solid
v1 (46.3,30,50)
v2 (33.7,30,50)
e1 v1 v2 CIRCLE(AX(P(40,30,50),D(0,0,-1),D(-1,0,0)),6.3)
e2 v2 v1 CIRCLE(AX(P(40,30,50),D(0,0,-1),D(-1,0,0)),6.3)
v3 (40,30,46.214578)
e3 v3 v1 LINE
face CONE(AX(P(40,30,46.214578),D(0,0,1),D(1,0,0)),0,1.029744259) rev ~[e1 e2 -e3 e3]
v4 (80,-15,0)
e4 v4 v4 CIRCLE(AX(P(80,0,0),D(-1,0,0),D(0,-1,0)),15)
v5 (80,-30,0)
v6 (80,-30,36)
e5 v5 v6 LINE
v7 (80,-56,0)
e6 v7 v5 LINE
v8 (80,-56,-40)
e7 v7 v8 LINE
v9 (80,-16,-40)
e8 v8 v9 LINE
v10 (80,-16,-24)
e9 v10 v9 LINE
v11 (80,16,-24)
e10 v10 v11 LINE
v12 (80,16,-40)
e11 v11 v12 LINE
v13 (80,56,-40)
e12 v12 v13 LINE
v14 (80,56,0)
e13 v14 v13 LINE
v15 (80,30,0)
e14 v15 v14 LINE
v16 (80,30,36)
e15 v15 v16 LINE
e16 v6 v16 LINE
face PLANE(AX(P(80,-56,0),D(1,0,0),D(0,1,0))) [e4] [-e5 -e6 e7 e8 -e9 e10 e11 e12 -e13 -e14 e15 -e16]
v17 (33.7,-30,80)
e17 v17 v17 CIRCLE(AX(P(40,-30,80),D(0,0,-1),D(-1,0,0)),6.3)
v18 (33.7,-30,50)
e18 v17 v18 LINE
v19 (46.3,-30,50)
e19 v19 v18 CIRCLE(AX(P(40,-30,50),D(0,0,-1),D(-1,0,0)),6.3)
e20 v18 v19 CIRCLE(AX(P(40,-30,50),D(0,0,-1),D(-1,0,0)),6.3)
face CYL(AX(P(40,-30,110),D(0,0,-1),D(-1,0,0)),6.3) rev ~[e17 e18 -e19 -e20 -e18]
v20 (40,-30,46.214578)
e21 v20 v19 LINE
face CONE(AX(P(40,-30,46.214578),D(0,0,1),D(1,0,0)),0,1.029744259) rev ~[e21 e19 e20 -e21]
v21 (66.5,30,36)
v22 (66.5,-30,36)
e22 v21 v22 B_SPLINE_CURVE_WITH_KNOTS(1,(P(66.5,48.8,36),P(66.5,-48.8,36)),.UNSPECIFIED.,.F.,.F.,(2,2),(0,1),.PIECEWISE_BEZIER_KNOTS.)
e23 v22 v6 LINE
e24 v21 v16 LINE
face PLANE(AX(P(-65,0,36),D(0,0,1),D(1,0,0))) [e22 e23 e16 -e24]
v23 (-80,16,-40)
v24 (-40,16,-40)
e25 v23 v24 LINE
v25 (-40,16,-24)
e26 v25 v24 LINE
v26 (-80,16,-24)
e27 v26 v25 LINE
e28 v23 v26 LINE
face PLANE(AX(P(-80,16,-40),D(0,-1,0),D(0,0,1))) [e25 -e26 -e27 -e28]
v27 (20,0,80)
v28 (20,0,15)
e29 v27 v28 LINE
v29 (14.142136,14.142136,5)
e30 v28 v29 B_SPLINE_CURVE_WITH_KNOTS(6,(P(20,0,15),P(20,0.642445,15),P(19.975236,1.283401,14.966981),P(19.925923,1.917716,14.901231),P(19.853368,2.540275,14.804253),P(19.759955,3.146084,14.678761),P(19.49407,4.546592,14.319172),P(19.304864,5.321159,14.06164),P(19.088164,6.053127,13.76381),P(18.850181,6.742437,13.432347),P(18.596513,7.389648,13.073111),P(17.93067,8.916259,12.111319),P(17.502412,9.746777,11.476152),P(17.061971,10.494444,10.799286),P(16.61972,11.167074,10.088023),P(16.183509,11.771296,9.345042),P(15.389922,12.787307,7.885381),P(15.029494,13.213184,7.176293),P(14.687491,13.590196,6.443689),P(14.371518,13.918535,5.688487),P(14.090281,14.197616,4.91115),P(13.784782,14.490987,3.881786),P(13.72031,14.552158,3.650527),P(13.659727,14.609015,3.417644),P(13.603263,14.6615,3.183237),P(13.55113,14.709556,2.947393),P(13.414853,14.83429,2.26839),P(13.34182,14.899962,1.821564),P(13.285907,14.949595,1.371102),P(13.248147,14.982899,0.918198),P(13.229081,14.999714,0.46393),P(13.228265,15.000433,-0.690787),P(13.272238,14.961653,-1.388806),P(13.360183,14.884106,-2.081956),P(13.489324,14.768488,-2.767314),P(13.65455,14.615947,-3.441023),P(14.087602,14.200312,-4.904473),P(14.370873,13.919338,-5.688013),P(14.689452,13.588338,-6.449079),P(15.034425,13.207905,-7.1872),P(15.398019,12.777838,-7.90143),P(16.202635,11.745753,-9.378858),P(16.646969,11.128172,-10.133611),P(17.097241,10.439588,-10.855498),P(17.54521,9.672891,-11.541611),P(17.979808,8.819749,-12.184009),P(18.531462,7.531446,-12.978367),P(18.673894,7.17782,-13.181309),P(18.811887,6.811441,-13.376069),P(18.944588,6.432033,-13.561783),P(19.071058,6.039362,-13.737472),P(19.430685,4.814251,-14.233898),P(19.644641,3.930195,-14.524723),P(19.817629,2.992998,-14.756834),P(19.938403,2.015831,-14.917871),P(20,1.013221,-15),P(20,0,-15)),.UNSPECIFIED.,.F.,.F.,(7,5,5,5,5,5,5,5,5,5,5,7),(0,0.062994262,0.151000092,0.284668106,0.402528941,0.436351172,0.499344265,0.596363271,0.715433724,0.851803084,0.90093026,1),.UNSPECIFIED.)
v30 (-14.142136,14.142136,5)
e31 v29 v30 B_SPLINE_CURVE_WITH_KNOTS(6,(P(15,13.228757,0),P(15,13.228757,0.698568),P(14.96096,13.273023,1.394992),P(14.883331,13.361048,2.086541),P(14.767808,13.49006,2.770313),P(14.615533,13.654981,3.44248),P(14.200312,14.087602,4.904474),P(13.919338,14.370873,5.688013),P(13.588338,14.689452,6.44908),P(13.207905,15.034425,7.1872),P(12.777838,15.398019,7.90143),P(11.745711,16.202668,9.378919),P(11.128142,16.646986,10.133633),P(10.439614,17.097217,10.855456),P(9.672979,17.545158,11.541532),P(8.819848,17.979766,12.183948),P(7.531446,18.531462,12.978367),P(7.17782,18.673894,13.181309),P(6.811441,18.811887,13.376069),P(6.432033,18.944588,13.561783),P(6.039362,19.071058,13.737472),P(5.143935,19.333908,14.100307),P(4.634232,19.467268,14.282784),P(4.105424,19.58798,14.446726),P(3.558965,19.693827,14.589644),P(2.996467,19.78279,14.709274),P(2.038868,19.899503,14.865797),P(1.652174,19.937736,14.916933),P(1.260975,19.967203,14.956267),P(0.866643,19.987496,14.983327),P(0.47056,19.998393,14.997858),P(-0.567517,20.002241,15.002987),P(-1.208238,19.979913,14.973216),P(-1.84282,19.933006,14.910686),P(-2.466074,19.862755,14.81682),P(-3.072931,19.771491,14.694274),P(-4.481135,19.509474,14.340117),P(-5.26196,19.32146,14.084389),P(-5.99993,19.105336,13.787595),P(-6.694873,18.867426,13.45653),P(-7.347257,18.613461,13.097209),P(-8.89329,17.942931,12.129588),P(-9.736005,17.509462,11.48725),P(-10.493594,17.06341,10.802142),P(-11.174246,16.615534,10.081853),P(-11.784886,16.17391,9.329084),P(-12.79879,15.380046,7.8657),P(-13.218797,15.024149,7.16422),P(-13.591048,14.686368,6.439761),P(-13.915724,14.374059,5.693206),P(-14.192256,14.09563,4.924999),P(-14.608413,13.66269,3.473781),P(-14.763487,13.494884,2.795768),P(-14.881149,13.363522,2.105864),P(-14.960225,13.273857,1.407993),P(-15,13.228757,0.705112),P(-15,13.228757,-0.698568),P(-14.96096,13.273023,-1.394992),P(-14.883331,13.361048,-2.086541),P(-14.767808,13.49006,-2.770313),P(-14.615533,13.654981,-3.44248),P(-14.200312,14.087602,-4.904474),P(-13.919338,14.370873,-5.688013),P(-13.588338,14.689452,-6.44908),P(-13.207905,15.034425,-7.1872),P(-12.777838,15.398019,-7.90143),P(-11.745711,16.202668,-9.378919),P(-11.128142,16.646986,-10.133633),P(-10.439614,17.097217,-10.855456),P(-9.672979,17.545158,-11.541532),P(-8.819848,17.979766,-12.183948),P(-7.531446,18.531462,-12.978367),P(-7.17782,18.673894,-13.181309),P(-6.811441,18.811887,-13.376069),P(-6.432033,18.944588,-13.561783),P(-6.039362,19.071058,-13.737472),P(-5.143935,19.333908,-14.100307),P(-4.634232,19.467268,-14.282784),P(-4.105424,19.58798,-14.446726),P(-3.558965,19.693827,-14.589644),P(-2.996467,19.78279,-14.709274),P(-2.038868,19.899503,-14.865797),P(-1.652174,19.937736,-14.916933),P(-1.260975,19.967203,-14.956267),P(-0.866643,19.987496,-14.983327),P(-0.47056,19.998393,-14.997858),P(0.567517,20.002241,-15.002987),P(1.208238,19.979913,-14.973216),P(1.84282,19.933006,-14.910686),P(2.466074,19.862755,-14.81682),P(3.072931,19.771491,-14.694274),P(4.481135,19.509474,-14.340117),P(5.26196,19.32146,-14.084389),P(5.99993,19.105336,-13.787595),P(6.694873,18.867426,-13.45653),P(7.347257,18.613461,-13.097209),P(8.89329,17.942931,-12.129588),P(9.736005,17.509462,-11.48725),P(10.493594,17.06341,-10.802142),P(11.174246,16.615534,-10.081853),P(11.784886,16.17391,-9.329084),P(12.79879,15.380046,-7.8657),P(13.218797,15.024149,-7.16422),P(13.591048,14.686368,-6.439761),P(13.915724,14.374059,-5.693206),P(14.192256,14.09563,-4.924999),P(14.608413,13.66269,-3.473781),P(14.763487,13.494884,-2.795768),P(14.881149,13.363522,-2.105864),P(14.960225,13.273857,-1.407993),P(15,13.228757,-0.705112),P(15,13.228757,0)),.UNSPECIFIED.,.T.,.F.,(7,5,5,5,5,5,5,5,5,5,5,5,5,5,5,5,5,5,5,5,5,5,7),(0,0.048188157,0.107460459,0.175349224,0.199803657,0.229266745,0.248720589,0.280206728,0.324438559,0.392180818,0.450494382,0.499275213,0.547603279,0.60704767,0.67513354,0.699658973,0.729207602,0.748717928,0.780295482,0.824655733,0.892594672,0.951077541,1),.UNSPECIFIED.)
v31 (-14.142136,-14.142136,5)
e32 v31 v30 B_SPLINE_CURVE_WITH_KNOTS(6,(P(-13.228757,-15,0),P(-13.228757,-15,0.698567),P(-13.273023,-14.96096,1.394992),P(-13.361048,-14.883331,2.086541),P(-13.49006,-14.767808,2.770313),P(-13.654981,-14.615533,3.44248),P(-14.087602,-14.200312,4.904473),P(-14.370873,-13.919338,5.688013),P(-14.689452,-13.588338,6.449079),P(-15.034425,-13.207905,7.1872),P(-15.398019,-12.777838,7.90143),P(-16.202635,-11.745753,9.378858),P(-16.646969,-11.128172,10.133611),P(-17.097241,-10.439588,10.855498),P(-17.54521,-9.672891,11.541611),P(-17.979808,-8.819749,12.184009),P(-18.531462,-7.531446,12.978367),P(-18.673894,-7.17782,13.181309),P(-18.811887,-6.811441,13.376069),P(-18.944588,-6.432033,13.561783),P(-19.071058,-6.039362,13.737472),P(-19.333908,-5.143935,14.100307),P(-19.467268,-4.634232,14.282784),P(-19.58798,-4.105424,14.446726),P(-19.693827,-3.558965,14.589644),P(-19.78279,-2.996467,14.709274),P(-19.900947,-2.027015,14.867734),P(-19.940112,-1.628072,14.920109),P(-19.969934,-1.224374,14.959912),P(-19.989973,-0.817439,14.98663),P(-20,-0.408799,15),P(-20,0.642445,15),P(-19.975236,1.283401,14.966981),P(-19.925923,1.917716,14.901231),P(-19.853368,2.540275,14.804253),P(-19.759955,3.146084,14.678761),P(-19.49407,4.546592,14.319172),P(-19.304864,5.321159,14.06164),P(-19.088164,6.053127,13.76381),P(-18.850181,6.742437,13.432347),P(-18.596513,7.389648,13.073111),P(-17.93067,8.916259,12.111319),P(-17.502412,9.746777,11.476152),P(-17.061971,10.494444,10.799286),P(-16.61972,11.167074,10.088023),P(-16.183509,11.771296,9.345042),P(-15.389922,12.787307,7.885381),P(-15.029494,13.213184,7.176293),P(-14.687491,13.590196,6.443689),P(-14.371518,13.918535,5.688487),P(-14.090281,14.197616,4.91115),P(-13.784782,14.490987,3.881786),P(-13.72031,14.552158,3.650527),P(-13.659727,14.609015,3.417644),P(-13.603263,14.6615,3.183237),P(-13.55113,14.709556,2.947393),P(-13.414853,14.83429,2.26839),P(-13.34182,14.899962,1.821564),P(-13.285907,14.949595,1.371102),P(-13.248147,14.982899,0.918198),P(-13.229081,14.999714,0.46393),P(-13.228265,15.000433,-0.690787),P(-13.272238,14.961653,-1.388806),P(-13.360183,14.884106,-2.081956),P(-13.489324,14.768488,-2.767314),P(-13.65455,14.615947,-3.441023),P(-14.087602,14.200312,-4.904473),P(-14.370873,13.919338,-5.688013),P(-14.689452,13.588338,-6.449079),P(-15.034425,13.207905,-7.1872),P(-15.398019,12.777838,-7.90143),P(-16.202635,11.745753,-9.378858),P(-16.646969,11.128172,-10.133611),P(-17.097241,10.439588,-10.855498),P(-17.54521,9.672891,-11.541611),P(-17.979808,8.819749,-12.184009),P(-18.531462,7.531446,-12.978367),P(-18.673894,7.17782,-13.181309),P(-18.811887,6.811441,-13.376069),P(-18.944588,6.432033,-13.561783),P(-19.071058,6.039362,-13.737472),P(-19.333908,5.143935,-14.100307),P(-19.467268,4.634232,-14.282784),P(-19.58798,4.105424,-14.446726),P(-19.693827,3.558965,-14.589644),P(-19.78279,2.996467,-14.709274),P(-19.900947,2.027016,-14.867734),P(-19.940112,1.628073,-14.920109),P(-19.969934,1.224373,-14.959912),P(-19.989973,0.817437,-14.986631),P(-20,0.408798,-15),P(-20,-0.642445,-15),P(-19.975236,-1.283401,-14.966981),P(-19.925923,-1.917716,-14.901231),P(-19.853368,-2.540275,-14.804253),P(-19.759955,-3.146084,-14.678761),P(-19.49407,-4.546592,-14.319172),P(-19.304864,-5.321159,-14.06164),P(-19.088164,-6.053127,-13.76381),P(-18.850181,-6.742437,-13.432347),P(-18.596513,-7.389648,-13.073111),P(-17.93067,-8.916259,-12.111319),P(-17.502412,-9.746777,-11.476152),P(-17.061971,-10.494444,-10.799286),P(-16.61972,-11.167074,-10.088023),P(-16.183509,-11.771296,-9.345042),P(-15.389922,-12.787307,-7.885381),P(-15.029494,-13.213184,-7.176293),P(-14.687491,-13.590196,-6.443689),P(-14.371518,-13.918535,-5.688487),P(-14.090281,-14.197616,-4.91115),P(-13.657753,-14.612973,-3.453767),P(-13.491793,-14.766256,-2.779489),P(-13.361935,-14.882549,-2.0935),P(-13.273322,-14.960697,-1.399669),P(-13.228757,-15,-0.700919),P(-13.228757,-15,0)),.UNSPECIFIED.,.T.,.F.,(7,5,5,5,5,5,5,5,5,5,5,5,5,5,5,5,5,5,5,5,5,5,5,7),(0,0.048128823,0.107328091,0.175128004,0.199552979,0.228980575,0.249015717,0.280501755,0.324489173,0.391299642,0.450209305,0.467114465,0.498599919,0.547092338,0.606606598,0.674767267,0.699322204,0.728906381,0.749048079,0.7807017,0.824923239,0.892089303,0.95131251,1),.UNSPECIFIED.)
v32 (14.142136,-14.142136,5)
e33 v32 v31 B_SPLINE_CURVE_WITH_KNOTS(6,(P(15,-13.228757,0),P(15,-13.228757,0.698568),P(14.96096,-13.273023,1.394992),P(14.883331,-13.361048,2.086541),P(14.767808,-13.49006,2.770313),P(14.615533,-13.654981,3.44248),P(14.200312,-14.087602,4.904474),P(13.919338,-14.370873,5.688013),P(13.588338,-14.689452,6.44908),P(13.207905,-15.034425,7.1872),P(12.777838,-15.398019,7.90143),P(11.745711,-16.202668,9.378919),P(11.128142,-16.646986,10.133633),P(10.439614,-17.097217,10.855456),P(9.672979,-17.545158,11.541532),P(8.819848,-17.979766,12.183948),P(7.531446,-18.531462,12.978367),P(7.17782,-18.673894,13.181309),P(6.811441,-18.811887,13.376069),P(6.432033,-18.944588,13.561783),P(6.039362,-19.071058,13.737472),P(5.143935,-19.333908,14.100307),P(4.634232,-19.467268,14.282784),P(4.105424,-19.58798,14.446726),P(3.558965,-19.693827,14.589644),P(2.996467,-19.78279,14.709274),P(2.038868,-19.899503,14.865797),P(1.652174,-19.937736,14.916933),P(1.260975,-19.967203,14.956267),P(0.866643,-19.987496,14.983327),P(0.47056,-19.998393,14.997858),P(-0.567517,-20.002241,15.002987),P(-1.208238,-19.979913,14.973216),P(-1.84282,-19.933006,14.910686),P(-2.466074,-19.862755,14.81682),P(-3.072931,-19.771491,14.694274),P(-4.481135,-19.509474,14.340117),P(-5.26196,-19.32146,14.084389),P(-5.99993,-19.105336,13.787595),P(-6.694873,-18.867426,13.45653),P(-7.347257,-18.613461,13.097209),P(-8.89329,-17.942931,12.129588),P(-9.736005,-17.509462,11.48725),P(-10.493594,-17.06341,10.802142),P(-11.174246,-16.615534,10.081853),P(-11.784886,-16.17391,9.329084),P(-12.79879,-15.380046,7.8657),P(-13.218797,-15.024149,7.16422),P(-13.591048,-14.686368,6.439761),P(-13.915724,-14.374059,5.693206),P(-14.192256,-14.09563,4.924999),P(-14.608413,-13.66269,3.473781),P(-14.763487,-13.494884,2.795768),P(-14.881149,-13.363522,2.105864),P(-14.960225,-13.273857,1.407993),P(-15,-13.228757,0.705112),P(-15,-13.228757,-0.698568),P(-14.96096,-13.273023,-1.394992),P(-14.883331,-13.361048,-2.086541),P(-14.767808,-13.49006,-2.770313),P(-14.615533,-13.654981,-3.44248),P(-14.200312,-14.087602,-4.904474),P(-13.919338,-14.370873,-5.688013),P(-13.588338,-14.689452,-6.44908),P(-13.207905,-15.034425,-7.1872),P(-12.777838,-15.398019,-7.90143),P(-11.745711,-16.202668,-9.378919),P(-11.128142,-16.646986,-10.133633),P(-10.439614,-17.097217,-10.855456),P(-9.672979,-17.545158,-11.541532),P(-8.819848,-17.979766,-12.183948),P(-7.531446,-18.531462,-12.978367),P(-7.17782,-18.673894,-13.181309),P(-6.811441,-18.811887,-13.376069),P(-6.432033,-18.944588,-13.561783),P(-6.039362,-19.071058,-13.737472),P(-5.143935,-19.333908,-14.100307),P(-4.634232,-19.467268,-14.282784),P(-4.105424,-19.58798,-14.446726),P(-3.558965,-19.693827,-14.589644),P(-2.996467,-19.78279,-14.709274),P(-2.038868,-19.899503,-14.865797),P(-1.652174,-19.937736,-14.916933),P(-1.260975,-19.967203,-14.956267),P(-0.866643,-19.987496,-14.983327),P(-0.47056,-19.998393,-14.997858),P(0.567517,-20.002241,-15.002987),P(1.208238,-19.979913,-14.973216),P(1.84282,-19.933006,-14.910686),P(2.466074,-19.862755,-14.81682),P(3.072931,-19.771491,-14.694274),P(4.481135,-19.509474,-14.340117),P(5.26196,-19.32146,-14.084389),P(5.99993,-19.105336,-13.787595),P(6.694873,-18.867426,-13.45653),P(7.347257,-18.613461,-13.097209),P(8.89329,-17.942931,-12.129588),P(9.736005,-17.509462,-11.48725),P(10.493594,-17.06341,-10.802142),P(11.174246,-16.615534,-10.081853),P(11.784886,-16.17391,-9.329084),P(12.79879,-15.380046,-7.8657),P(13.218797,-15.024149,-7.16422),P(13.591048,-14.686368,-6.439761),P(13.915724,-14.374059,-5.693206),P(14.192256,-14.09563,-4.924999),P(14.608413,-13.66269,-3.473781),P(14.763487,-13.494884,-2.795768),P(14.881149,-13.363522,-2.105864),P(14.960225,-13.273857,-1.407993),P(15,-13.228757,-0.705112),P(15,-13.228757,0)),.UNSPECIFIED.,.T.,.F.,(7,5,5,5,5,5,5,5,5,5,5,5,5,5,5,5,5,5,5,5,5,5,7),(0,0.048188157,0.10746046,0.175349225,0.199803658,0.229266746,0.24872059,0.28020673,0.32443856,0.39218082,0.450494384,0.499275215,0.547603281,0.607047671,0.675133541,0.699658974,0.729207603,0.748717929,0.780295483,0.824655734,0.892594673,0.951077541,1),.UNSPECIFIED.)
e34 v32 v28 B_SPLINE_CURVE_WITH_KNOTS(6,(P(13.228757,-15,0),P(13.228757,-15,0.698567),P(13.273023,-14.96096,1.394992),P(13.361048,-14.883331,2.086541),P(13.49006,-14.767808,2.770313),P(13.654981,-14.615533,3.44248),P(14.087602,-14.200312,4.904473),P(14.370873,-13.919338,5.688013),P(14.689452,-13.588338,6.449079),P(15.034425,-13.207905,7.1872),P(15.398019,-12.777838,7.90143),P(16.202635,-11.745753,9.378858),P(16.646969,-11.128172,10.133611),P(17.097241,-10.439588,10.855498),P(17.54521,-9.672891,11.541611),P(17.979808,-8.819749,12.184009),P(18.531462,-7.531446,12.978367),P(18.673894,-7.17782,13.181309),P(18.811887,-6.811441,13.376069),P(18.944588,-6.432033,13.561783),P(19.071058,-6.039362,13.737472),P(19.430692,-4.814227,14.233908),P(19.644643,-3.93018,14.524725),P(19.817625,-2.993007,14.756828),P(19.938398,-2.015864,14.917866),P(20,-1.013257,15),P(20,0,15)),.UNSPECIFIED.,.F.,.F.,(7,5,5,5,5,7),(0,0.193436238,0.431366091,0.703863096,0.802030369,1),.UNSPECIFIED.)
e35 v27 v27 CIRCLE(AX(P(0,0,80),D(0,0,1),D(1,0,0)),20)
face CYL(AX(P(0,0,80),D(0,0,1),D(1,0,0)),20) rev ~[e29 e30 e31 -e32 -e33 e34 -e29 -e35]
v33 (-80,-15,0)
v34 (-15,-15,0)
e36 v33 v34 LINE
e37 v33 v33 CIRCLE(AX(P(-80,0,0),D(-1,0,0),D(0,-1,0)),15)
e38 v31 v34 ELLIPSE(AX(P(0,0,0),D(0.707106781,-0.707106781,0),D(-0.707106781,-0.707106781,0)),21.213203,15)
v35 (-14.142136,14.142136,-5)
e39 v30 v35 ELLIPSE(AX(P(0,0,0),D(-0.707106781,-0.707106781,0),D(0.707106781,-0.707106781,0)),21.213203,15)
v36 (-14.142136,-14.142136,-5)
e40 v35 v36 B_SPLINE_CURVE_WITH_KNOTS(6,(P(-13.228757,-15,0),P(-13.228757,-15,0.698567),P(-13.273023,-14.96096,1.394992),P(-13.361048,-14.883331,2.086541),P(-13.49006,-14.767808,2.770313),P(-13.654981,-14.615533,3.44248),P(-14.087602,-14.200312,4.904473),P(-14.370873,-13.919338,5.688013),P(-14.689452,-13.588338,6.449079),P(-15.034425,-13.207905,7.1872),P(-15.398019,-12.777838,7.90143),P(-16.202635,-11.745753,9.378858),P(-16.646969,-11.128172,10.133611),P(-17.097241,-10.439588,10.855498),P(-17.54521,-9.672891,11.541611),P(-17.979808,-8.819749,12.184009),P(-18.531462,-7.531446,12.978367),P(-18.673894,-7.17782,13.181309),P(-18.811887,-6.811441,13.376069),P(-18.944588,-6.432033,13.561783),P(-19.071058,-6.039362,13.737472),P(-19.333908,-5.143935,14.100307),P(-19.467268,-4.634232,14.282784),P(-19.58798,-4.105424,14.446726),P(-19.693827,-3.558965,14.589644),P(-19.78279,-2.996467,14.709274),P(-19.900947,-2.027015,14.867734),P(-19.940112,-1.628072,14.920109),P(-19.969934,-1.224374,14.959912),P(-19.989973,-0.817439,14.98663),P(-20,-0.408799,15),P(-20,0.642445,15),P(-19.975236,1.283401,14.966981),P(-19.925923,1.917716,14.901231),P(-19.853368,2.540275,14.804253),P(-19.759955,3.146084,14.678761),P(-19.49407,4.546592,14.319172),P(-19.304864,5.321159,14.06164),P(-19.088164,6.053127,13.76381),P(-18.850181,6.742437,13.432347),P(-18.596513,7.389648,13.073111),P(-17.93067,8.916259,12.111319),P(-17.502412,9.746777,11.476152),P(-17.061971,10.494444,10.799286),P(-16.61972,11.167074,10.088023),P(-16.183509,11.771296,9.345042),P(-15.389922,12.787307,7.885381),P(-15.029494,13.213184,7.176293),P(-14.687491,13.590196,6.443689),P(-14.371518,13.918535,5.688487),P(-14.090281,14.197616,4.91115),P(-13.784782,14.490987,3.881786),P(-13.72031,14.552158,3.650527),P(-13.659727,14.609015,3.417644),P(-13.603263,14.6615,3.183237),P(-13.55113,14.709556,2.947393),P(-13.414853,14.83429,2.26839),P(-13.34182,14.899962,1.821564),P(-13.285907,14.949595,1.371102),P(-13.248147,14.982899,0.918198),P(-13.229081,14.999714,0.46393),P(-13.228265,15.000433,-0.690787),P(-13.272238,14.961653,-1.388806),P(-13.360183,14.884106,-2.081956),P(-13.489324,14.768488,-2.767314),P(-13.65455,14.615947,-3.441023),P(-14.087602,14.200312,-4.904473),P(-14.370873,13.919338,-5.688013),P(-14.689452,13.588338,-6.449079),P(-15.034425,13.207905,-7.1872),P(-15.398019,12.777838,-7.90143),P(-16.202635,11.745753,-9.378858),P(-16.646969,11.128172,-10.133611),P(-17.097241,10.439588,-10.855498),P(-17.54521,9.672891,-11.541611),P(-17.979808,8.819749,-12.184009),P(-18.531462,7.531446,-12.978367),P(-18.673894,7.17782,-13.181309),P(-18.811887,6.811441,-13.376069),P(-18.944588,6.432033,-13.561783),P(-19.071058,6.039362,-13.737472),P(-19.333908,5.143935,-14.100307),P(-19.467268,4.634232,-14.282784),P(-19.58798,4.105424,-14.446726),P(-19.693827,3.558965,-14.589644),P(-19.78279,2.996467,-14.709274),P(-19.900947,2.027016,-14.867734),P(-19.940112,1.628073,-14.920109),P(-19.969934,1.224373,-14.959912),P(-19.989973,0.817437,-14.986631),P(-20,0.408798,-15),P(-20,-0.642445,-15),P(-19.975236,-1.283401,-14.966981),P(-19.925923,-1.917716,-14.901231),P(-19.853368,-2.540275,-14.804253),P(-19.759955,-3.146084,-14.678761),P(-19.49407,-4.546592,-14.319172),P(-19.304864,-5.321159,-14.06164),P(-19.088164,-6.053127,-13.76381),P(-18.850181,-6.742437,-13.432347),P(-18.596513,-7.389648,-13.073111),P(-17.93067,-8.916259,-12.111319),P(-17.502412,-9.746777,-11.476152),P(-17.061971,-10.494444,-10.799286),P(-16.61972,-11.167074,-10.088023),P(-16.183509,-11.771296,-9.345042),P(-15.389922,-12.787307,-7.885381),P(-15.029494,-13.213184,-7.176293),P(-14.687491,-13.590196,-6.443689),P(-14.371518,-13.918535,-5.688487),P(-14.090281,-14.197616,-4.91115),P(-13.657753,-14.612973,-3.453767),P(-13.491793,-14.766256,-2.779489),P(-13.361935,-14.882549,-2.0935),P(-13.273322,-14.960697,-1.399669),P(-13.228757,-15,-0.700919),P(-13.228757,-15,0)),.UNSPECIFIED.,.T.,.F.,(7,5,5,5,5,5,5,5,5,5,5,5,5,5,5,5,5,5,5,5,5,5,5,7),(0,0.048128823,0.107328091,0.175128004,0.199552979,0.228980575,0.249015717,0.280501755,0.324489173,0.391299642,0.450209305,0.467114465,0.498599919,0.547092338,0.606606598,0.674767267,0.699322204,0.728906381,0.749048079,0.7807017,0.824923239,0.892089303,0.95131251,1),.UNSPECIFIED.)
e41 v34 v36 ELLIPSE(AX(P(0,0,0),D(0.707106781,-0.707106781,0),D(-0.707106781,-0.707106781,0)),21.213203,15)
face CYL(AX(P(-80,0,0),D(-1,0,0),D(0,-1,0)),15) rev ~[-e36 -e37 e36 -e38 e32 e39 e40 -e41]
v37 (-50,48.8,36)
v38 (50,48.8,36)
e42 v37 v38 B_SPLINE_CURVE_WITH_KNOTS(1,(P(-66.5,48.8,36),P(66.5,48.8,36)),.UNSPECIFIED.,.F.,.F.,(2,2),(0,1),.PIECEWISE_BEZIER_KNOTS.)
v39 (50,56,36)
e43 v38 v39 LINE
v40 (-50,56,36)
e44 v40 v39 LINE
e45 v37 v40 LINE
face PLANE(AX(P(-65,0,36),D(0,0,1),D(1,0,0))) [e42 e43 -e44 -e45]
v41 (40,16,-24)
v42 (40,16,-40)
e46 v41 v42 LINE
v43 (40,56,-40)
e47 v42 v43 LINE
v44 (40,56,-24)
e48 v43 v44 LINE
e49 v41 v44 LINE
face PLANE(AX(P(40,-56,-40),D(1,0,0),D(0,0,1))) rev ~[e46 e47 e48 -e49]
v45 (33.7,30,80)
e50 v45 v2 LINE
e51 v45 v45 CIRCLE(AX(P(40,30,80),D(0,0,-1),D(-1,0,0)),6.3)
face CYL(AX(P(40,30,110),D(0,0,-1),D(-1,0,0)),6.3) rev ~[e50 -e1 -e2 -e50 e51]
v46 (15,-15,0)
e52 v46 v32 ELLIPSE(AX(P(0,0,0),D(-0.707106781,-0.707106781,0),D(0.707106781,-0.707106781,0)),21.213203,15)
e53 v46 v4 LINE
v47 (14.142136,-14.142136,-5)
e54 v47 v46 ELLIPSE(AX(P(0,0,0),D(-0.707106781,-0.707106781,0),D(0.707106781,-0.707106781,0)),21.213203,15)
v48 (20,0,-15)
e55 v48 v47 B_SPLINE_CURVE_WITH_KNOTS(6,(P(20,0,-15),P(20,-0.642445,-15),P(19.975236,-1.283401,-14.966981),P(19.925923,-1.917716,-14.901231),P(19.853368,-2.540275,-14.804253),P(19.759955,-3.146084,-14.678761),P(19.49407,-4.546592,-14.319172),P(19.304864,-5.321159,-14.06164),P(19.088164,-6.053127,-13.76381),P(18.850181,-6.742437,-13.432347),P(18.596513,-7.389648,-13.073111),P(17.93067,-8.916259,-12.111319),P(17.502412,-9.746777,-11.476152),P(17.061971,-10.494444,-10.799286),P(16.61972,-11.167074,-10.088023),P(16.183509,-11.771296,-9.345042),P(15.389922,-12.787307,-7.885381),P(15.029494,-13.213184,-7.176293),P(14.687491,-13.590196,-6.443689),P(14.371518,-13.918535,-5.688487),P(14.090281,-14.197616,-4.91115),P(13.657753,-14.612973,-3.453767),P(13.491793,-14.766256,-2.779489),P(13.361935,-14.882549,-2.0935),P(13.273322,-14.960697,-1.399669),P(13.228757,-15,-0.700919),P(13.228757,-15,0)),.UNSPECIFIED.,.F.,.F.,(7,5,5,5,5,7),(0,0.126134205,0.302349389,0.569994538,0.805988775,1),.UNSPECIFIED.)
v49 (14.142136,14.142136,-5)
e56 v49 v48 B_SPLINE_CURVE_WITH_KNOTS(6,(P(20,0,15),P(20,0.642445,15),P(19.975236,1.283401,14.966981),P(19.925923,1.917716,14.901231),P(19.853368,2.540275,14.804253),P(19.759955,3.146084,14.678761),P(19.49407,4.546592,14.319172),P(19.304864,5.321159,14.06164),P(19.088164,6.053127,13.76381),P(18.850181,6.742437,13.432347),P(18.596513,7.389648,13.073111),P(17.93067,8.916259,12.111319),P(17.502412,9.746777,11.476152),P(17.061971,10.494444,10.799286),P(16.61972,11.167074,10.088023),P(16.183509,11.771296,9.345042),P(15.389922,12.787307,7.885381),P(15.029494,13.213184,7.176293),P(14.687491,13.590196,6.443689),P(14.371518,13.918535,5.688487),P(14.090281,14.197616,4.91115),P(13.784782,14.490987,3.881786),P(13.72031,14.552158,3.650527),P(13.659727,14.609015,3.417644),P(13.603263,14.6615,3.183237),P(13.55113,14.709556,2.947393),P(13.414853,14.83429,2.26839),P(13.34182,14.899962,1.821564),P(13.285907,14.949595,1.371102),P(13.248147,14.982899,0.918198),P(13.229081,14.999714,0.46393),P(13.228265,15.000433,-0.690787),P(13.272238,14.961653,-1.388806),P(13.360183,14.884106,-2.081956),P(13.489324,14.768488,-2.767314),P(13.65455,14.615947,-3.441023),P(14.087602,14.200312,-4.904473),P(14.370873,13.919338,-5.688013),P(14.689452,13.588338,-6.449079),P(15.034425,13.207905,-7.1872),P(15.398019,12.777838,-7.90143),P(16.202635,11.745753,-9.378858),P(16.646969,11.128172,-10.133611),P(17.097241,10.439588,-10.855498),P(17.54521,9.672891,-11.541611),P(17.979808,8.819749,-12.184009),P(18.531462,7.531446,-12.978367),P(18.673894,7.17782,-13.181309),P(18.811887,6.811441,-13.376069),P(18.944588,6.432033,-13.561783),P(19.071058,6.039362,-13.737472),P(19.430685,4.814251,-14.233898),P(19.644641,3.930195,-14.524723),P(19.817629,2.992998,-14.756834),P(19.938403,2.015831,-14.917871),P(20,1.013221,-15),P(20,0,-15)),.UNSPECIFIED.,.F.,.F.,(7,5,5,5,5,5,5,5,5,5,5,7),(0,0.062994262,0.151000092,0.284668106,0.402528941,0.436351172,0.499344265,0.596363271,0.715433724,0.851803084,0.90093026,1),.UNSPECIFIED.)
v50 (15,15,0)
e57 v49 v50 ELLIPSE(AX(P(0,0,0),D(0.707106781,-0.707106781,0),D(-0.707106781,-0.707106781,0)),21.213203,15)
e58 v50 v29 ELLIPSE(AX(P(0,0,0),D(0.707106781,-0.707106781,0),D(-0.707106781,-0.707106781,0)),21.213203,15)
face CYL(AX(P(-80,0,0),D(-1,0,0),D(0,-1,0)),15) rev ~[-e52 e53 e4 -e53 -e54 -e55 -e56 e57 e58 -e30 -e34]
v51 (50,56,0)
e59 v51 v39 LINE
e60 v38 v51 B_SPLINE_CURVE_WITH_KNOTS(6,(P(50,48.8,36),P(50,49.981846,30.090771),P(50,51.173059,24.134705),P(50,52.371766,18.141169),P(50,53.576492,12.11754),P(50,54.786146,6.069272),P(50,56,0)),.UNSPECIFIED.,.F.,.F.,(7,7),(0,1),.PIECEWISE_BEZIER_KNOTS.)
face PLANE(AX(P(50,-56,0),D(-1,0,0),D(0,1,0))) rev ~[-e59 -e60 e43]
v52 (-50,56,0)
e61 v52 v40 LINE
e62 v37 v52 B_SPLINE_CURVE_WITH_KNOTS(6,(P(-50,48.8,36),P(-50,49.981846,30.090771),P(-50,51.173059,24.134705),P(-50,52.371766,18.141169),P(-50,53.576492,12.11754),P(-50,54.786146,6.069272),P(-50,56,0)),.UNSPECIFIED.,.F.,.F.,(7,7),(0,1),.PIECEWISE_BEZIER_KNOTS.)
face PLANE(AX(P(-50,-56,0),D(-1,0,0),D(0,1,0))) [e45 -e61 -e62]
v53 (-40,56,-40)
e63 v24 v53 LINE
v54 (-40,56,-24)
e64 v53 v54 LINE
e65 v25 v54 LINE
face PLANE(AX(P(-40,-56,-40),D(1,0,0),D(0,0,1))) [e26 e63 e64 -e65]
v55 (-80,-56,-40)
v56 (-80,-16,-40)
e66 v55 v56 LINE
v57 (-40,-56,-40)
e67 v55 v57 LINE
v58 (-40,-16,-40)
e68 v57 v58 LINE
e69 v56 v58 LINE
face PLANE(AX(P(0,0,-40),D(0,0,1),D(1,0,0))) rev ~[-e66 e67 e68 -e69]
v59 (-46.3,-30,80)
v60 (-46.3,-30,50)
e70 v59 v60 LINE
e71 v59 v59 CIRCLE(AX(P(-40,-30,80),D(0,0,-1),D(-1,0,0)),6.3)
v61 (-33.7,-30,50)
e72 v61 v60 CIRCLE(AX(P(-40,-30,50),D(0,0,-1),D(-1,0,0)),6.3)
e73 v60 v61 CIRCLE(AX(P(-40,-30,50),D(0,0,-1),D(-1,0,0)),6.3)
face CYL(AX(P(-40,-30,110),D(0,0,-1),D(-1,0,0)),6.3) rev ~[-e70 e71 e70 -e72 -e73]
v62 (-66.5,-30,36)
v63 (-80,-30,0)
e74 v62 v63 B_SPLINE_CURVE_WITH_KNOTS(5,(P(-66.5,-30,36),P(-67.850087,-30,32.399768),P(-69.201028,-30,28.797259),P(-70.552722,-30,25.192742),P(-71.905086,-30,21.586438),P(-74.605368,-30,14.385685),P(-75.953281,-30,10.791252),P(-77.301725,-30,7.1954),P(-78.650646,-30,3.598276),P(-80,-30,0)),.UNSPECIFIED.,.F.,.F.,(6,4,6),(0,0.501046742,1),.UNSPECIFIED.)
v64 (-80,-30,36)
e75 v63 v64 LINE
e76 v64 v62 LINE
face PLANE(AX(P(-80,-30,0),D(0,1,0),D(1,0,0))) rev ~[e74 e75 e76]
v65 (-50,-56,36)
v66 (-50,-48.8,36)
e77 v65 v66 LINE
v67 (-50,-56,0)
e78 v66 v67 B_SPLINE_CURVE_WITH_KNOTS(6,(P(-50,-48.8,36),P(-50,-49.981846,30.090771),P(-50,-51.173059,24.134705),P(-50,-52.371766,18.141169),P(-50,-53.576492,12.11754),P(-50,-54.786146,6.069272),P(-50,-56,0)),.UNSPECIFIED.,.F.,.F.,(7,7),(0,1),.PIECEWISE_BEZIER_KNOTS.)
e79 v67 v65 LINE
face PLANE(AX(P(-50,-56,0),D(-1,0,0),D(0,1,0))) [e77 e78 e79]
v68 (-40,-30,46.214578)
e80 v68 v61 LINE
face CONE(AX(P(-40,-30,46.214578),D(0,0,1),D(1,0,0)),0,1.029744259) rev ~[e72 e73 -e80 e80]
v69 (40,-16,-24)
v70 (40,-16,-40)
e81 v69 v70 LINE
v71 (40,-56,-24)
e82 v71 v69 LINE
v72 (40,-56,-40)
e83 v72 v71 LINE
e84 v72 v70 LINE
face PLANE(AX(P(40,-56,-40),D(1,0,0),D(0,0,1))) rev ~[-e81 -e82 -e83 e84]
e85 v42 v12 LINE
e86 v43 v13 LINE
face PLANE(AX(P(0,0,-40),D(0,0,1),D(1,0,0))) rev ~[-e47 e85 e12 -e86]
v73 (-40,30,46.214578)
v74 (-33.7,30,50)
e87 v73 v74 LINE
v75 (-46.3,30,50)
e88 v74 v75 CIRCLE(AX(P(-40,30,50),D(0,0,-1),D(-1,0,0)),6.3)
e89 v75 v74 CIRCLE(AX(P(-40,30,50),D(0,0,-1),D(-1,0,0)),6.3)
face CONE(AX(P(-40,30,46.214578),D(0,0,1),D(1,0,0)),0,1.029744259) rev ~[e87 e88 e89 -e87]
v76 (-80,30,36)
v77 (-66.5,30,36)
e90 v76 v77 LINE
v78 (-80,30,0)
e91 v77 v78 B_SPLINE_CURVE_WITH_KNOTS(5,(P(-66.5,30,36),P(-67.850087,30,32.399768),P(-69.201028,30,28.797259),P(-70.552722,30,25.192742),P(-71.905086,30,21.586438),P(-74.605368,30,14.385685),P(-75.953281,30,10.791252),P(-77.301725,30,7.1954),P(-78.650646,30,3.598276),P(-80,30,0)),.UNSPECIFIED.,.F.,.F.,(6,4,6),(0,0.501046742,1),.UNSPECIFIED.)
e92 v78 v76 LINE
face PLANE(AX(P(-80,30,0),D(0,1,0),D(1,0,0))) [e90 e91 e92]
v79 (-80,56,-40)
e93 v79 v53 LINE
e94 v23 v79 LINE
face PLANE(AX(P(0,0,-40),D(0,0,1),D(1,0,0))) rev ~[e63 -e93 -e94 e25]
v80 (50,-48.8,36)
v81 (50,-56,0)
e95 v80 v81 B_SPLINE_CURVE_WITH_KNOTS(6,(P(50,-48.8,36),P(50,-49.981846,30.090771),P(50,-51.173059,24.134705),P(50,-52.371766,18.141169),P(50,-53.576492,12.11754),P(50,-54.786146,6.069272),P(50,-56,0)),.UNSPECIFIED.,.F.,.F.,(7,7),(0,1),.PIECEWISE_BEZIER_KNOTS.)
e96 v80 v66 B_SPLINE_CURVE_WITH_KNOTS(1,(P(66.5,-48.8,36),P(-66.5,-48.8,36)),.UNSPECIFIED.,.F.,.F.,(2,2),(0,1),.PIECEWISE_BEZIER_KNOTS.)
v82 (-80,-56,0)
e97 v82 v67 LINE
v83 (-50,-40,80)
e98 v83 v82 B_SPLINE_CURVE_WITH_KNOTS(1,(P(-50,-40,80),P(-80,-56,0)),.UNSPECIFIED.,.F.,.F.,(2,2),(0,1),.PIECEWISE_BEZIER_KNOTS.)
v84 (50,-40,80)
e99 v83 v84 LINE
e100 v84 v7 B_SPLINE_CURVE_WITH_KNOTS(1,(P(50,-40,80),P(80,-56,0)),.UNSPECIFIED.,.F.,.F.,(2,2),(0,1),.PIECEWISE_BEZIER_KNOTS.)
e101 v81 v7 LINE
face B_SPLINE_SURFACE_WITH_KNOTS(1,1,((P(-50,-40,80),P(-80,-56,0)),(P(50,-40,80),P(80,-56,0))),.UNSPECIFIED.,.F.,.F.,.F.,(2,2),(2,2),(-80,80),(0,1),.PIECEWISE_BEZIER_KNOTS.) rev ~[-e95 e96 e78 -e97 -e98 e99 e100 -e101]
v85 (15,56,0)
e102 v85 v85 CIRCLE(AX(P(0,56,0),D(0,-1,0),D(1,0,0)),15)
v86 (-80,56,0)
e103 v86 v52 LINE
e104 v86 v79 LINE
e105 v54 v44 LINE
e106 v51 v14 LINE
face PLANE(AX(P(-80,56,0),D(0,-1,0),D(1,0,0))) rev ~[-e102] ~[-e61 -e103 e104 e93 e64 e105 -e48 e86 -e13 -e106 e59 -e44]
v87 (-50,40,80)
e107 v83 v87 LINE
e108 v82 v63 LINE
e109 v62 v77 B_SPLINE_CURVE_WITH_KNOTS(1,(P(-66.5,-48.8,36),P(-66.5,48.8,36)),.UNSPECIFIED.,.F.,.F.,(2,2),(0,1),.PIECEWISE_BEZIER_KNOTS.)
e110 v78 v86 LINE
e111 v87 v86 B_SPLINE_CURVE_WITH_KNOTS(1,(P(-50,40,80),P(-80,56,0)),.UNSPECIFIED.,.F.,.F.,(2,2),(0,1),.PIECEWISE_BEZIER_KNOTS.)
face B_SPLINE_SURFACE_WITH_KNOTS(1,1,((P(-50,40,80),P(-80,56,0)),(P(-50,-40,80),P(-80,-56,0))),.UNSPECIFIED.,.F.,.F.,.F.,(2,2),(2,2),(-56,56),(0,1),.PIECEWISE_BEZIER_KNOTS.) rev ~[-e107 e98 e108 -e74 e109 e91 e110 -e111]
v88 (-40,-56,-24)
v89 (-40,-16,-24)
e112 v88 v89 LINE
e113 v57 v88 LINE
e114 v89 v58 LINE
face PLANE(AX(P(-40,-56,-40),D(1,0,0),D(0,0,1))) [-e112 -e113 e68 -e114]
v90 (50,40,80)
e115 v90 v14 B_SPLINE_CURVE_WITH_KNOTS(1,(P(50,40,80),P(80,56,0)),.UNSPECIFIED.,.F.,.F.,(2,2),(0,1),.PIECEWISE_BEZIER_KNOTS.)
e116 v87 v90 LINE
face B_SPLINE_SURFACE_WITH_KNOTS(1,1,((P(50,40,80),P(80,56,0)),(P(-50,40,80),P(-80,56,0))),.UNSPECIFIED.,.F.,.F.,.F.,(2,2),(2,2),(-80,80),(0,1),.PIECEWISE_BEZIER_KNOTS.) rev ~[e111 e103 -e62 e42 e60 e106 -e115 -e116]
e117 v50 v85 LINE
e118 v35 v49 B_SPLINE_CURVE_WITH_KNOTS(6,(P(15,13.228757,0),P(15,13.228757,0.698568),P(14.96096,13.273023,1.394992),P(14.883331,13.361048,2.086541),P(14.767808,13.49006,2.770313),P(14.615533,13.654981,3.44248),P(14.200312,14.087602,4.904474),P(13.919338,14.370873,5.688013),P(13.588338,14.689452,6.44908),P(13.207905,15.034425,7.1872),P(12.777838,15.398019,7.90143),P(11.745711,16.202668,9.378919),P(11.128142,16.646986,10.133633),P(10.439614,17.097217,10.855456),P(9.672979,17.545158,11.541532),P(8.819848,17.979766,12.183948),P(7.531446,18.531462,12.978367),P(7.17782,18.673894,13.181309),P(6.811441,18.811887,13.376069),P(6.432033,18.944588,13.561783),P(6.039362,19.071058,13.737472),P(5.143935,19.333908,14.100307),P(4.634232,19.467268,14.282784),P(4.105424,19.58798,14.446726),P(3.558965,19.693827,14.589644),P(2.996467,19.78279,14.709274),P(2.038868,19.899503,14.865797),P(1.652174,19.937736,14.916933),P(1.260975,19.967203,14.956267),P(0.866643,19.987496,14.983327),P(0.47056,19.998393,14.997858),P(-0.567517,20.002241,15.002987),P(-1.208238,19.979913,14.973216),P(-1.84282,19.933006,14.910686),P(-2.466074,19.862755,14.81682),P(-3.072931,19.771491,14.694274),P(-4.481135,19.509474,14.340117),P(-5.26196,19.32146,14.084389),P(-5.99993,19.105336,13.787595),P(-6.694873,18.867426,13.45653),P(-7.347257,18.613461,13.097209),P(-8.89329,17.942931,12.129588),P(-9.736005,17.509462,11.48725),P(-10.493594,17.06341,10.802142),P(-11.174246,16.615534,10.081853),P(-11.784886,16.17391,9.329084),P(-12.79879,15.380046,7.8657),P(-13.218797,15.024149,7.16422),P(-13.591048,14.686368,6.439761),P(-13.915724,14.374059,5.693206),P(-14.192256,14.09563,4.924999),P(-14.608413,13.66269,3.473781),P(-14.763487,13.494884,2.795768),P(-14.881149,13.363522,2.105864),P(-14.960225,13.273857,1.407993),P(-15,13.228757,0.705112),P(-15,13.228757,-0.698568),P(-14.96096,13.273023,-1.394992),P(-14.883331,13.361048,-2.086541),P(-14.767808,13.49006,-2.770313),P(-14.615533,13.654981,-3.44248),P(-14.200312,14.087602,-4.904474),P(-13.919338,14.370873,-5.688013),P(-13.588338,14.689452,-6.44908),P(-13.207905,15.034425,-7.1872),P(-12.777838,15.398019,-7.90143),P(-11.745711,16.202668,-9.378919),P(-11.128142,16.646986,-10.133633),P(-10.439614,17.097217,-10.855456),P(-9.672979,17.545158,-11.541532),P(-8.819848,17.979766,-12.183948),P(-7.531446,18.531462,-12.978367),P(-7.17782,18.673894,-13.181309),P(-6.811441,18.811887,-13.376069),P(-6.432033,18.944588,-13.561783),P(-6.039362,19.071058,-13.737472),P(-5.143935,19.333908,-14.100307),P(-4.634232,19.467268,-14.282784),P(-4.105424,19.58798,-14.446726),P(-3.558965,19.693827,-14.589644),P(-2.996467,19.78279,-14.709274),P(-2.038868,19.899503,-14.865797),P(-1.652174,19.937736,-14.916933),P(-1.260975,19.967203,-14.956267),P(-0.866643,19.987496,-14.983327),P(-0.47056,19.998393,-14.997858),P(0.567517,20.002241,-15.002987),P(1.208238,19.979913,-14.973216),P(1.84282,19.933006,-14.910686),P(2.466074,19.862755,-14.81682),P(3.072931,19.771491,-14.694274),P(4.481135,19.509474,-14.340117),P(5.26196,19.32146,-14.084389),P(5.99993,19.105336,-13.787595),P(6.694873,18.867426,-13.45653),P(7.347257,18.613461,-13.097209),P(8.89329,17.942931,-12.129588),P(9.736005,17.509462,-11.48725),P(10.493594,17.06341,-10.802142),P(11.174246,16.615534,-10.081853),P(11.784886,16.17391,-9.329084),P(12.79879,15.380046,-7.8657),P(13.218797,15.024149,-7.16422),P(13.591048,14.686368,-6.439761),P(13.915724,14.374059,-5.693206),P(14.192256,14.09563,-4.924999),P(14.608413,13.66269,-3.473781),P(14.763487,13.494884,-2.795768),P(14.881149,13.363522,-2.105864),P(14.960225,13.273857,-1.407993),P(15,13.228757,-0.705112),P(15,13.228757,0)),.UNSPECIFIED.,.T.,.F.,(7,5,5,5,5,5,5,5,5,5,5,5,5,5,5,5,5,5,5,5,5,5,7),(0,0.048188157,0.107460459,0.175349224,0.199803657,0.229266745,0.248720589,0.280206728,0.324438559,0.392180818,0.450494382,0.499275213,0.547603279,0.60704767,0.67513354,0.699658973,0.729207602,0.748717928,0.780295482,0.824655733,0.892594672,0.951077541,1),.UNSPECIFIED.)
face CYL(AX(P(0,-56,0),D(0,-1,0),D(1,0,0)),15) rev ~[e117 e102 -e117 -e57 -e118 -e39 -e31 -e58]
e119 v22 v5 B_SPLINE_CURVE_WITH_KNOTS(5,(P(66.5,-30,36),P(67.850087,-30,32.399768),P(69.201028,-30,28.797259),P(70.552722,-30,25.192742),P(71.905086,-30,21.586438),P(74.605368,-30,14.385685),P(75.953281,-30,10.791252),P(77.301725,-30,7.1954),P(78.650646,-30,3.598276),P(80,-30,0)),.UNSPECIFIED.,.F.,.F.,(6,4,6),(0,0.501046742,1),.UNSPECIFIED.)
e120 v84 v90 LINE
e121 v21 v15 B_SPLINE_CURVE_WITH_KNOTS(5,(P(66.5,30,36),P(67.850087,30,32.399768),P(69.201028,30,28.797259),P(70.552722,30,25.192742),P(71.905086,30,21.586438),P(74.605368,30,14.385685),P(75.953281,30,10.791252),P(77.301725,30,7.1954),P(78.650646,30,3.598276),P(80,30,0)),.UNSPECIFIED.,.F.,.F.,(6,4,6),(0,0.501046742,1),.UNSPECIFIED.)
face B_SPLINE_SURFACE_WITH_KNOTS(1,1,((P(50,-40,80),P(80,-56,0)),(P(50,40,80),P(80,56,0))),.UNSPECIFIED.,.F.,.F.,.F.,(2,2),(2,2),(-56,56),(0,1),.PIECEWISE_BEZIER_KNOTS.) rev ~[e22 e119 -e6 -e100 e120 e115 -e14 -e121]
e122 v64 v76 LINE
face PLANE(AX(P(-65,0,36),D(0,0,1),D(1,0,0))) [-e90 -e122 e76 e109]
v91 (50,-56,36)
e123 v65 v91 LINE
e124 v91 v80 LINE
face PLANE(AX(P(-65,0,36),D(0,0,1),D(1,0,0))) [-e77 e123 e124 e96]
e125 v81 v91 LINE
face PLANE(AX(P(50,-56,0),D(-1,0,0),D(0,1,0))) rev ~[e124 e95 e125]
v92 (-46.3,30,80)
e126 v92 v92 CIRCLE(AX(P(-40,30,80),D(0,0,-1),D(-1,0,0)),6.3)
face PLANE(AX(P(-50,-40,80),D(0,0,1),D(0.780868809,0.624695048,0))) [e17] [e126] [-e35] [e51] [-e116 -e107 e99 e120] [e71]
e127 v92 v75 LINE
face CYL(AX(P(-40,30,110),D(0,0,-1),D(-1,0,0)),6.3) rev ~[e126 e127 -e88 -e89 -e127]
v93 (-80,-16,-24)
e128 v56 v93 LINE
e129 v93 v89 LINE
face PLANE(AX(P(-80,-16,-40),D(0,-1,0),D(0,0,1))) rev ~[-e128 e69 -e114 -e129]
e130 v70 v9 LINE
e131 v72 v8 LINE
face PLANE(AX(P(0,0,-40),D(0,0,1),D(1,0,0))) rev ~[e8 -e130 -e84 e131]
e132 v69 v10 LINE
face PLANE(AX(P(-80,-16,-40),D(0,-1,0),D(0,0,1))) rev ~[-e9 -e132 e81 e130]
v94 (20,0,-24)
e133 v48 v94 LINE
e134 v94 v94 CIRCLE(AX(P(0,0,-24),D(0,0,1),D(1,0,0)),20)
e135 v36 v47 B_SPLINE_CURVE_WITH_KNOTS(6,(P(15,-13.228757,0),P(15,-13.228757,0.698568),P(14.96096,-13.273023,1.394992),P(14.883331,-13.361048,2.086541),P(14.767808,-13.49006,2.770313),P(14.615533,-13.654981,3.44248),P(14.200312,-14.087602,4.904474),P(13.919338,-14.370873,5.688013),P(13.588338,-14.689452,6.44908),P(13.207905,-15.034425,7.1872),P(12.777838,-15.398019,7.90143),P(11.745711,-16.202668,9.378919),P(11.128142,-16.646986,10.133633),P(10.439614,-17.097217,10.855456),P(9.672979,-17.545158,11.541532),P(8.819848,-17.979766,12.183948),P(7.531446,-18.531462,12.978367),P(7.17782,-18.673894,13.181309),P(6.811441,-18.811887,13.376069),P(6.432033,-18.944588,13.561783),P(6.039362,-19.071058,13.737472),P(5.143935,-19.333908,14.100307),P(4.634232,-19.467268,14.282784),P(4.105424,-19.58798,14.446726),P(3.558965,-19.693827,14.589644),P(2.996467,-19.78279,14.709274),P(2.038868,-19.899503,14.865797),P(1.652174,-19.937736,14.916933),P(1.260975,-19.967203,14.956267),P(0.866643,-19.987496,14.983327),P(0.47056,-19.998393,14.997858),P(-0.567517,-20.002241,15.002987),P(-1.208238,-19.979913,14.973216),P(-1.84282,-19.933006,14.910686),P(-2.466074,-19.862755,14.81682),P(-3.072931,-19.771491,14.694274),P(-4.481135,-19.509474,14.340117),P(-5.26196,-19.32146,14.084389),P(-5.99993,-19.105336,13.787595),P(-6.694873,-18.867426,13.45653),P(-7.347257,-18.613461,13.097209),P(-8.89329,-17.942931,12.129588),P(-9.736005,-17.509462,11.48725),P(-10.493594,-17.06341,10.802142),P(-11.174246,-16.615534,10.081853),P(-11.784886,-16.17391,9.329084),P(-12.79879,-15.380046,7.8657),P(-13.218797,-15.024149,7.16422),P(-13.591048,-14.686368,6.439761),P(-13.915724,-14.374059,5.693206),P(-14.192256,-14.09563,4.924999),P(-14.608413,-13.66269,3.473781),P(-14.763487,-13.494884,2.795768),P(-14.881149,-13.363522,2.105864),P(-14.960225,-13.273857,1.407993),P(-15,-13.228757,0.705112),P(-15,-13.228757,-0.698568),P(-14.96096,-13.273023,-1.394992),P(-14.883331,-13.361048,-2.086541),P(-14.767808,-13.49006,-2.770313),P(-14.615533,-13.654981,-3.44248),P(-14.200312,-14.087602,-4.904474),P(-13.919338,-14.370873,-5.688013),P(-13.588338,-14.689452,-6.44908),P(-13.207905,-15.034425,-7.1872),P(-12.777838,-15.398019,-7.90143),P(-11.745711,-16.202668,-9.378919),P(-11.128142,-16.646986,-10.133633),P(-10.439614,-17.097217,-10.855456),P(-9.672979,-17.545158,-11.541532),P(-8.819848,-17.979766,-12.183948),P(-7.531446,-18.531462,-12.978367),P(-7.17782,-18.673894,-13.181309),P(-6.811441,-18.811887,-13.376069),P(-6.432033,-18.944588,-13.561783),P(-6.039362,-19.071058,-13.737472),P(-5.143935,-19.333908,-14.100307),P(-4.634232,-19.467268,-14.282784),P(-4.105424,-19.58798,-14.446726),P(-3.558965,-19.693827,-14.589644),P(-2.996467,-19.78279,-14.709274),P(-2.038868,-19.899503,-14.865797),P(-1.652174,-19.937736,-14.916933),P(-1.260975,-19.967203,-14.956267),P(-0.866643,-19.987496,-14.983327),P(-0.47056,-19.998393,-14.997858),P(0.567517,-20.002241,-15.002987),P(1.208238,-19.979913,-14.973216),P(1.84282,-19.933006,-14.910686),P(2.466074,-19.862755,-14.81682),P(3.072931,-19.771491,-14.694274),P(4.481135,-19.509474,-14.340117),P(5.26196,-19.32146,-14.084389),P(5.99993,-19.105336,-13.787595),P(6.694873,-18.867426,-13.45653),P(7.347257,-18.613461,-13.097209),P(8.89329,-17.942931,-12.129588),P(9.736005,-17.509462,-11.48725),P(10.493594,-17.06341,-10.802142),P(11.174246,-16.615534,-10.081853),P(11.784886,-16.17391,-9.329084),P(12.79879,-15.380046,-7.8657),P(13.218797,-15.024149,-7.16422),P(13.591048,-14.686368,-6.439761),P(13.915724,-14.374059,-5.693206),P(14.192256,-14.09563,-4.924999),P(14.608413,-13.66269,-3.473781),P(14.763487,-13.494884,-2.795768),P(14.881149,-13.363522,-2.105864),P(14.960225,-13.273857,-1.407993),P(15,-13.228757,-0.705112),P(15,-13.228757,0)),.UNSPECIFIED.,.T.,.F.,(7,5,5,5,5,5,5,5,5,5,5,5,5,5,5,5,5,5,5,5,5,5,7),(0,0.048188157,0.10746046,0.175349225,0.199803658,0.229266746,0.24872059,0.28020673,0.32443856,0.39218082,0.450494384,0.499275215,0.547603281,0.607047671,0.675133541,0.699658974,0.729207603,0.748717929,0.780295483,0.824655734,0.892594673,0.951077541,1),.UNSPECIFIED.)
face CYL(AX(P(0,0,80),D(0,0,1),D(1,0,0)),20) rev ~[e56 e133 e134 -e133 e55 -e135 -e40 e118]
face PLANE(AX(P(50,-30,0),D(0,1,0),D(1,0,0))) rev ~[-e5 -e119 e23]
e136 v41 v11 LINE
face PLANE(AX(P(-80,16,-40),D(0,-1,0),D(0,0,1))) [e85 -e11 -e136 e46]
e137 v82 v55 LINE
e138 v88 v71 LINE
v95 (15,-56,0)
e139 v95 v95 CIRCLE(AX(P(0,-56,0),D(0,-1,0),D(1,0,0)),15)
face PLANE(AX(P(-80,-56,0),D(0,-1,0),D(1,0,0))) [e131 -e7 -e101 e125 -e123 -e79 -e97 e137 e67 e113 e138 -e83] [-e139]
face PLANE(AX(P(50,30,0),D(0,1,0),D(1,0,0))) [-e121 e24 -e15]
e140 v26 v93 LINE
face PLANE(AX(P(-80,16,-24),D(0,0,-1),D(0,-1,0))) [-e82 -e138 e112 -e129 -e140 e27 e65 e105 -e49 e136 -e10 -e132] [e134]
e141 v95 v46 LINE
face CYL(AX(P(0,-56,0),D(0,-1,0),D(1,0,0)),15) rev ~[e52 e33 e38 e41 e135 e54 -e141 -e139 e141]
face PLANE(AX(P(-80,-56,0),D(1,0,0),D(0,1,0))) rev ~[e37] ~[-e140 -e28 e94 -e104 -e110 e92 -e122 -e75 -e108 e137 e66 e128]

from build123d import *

# Parameters (mm, degrees)
F0_W      = 160
F0_H      = 112
F1_DEPTH  = 40
F2_W      = 80
F2_H      = 16
F3_DEPTH  = 115
F4_W      = 32
F4_H      = 16
F5_DEPTH  = 165
F6_W      = 100
F6_H      = 112
F7_DEPTH  = 36
F8_W      = 30
F8_H      = 60
F9_DEPTH  = 36
F10_W     = 30
F10_H     = 60
F11_DEPTH = 36
F14_W     = 100
F14_H     = 80
F12_W     = 160
F12_H     = 112
F16_R     = 20
F17_DEPTH = 120
F18_R     = 15
F19_DEPTH = 112
F20_R     = 15
F21_DEPTH = 160
F23_D     = 12.6
F23_DEPTH = 30
F23_TIP   = 3.7854218999


with BuildPart() as f1:
    # F0 (on Top) → F1 (new body)
    with BuildSketch(Plane.XY):
        Rectangle(F0_W, F0_H)
    extrude(amount=-F1_DEPTH)

    # F2 (on face) → F3 (cut)
    with BuildSketch(Plane.XZ.offset(56)):
        with Locations((0, -32)):
            Rectangle(F2_W, F2_H)
    extrude(amount=-F3_DEPTH, mode=Mode.SUBTRACT)

    # F4 (on face) → F5 (cut)
    with BuildSketch(Plane(origin=(-80, 0, 0), x_dir=(0, -1, 0), z_dir=(-1, 0, 0))):
        with Locations((0, -32)):
            Rectangle(F4_W, F4_H)
    extrude(amount=-F5_DEPTH, mode=Mode.SUBTRACT)

    # F6 (on face) → F7 (join)
    with BuildSketch(Plane.XY):
        Rectangle(F6_W, F6_H)
    extrude(amount=F7_DEPTH)

    # F8 (on face) → F9 (join)
    with BuildSketch(Plane.XY):
        with Locations((65, 0)):
            Rectangle(F8_W, F8_H)
    extrude(amount=F9_DEPTH)

    # F10 (on face) → F11 (join)
    with BuildSketch(Plane.XY):
        with Locations((-65, 0)):
            Rectangle(F10_W, F10_H)
    extrude(amount=F11_DEPTH)

    # F14 (on offset) → F15 section 0
    with BuildSketch(Plane.XY.offset(80)):
        Rectangle(F14_W, F14_H)
    # F12 (on Top) → F15 section 1
    with BuildSketch(Plane.XY):
        Rectangle(F12_W, F12_H)
    loft()

    # F16 (on face) → F17 (cut)
    with BuildSketch(Plane.XY.offset(80)):
        Circle(F16_R)
    extrude(amount=-F17_DEPTH, mode=Mode.SUBTRACT)

    # F18 (on face) → F19 (cut)
    with BuildSketch(Plane.XZ.offset(56)):
        Circle(F18_R)
    extrude(amount=-F19_DEPTH, mode=Mode.SUBTRACT)

    # F20 (on face) → F21 (cut)
    with BuildSketch(Plane(origin=(-80, 0, 0), x_dir=(0, -1, 0), z_dir=(-1, 0, 0))):
        Circle(F20_R)
    extrude(amount=-F21_DEPTH, mode=Mode.SUBTRACT)

    # F23
    with Locations(Plane.XY.offset(80)):
        with Locations((-40, 30), (40, 30), (40, -30), (-40, -30)):
            Hole(F23_D / 2, depth=F23_DEPTH)
            with Locations((0, 0, -(F23_DEPTH + F23_TIP / 2))):  # 118° drill point
                Cone(0, F23_D / 2, F23_TIP, mode=Mode.SUBTRACT)


solid = f1.part
